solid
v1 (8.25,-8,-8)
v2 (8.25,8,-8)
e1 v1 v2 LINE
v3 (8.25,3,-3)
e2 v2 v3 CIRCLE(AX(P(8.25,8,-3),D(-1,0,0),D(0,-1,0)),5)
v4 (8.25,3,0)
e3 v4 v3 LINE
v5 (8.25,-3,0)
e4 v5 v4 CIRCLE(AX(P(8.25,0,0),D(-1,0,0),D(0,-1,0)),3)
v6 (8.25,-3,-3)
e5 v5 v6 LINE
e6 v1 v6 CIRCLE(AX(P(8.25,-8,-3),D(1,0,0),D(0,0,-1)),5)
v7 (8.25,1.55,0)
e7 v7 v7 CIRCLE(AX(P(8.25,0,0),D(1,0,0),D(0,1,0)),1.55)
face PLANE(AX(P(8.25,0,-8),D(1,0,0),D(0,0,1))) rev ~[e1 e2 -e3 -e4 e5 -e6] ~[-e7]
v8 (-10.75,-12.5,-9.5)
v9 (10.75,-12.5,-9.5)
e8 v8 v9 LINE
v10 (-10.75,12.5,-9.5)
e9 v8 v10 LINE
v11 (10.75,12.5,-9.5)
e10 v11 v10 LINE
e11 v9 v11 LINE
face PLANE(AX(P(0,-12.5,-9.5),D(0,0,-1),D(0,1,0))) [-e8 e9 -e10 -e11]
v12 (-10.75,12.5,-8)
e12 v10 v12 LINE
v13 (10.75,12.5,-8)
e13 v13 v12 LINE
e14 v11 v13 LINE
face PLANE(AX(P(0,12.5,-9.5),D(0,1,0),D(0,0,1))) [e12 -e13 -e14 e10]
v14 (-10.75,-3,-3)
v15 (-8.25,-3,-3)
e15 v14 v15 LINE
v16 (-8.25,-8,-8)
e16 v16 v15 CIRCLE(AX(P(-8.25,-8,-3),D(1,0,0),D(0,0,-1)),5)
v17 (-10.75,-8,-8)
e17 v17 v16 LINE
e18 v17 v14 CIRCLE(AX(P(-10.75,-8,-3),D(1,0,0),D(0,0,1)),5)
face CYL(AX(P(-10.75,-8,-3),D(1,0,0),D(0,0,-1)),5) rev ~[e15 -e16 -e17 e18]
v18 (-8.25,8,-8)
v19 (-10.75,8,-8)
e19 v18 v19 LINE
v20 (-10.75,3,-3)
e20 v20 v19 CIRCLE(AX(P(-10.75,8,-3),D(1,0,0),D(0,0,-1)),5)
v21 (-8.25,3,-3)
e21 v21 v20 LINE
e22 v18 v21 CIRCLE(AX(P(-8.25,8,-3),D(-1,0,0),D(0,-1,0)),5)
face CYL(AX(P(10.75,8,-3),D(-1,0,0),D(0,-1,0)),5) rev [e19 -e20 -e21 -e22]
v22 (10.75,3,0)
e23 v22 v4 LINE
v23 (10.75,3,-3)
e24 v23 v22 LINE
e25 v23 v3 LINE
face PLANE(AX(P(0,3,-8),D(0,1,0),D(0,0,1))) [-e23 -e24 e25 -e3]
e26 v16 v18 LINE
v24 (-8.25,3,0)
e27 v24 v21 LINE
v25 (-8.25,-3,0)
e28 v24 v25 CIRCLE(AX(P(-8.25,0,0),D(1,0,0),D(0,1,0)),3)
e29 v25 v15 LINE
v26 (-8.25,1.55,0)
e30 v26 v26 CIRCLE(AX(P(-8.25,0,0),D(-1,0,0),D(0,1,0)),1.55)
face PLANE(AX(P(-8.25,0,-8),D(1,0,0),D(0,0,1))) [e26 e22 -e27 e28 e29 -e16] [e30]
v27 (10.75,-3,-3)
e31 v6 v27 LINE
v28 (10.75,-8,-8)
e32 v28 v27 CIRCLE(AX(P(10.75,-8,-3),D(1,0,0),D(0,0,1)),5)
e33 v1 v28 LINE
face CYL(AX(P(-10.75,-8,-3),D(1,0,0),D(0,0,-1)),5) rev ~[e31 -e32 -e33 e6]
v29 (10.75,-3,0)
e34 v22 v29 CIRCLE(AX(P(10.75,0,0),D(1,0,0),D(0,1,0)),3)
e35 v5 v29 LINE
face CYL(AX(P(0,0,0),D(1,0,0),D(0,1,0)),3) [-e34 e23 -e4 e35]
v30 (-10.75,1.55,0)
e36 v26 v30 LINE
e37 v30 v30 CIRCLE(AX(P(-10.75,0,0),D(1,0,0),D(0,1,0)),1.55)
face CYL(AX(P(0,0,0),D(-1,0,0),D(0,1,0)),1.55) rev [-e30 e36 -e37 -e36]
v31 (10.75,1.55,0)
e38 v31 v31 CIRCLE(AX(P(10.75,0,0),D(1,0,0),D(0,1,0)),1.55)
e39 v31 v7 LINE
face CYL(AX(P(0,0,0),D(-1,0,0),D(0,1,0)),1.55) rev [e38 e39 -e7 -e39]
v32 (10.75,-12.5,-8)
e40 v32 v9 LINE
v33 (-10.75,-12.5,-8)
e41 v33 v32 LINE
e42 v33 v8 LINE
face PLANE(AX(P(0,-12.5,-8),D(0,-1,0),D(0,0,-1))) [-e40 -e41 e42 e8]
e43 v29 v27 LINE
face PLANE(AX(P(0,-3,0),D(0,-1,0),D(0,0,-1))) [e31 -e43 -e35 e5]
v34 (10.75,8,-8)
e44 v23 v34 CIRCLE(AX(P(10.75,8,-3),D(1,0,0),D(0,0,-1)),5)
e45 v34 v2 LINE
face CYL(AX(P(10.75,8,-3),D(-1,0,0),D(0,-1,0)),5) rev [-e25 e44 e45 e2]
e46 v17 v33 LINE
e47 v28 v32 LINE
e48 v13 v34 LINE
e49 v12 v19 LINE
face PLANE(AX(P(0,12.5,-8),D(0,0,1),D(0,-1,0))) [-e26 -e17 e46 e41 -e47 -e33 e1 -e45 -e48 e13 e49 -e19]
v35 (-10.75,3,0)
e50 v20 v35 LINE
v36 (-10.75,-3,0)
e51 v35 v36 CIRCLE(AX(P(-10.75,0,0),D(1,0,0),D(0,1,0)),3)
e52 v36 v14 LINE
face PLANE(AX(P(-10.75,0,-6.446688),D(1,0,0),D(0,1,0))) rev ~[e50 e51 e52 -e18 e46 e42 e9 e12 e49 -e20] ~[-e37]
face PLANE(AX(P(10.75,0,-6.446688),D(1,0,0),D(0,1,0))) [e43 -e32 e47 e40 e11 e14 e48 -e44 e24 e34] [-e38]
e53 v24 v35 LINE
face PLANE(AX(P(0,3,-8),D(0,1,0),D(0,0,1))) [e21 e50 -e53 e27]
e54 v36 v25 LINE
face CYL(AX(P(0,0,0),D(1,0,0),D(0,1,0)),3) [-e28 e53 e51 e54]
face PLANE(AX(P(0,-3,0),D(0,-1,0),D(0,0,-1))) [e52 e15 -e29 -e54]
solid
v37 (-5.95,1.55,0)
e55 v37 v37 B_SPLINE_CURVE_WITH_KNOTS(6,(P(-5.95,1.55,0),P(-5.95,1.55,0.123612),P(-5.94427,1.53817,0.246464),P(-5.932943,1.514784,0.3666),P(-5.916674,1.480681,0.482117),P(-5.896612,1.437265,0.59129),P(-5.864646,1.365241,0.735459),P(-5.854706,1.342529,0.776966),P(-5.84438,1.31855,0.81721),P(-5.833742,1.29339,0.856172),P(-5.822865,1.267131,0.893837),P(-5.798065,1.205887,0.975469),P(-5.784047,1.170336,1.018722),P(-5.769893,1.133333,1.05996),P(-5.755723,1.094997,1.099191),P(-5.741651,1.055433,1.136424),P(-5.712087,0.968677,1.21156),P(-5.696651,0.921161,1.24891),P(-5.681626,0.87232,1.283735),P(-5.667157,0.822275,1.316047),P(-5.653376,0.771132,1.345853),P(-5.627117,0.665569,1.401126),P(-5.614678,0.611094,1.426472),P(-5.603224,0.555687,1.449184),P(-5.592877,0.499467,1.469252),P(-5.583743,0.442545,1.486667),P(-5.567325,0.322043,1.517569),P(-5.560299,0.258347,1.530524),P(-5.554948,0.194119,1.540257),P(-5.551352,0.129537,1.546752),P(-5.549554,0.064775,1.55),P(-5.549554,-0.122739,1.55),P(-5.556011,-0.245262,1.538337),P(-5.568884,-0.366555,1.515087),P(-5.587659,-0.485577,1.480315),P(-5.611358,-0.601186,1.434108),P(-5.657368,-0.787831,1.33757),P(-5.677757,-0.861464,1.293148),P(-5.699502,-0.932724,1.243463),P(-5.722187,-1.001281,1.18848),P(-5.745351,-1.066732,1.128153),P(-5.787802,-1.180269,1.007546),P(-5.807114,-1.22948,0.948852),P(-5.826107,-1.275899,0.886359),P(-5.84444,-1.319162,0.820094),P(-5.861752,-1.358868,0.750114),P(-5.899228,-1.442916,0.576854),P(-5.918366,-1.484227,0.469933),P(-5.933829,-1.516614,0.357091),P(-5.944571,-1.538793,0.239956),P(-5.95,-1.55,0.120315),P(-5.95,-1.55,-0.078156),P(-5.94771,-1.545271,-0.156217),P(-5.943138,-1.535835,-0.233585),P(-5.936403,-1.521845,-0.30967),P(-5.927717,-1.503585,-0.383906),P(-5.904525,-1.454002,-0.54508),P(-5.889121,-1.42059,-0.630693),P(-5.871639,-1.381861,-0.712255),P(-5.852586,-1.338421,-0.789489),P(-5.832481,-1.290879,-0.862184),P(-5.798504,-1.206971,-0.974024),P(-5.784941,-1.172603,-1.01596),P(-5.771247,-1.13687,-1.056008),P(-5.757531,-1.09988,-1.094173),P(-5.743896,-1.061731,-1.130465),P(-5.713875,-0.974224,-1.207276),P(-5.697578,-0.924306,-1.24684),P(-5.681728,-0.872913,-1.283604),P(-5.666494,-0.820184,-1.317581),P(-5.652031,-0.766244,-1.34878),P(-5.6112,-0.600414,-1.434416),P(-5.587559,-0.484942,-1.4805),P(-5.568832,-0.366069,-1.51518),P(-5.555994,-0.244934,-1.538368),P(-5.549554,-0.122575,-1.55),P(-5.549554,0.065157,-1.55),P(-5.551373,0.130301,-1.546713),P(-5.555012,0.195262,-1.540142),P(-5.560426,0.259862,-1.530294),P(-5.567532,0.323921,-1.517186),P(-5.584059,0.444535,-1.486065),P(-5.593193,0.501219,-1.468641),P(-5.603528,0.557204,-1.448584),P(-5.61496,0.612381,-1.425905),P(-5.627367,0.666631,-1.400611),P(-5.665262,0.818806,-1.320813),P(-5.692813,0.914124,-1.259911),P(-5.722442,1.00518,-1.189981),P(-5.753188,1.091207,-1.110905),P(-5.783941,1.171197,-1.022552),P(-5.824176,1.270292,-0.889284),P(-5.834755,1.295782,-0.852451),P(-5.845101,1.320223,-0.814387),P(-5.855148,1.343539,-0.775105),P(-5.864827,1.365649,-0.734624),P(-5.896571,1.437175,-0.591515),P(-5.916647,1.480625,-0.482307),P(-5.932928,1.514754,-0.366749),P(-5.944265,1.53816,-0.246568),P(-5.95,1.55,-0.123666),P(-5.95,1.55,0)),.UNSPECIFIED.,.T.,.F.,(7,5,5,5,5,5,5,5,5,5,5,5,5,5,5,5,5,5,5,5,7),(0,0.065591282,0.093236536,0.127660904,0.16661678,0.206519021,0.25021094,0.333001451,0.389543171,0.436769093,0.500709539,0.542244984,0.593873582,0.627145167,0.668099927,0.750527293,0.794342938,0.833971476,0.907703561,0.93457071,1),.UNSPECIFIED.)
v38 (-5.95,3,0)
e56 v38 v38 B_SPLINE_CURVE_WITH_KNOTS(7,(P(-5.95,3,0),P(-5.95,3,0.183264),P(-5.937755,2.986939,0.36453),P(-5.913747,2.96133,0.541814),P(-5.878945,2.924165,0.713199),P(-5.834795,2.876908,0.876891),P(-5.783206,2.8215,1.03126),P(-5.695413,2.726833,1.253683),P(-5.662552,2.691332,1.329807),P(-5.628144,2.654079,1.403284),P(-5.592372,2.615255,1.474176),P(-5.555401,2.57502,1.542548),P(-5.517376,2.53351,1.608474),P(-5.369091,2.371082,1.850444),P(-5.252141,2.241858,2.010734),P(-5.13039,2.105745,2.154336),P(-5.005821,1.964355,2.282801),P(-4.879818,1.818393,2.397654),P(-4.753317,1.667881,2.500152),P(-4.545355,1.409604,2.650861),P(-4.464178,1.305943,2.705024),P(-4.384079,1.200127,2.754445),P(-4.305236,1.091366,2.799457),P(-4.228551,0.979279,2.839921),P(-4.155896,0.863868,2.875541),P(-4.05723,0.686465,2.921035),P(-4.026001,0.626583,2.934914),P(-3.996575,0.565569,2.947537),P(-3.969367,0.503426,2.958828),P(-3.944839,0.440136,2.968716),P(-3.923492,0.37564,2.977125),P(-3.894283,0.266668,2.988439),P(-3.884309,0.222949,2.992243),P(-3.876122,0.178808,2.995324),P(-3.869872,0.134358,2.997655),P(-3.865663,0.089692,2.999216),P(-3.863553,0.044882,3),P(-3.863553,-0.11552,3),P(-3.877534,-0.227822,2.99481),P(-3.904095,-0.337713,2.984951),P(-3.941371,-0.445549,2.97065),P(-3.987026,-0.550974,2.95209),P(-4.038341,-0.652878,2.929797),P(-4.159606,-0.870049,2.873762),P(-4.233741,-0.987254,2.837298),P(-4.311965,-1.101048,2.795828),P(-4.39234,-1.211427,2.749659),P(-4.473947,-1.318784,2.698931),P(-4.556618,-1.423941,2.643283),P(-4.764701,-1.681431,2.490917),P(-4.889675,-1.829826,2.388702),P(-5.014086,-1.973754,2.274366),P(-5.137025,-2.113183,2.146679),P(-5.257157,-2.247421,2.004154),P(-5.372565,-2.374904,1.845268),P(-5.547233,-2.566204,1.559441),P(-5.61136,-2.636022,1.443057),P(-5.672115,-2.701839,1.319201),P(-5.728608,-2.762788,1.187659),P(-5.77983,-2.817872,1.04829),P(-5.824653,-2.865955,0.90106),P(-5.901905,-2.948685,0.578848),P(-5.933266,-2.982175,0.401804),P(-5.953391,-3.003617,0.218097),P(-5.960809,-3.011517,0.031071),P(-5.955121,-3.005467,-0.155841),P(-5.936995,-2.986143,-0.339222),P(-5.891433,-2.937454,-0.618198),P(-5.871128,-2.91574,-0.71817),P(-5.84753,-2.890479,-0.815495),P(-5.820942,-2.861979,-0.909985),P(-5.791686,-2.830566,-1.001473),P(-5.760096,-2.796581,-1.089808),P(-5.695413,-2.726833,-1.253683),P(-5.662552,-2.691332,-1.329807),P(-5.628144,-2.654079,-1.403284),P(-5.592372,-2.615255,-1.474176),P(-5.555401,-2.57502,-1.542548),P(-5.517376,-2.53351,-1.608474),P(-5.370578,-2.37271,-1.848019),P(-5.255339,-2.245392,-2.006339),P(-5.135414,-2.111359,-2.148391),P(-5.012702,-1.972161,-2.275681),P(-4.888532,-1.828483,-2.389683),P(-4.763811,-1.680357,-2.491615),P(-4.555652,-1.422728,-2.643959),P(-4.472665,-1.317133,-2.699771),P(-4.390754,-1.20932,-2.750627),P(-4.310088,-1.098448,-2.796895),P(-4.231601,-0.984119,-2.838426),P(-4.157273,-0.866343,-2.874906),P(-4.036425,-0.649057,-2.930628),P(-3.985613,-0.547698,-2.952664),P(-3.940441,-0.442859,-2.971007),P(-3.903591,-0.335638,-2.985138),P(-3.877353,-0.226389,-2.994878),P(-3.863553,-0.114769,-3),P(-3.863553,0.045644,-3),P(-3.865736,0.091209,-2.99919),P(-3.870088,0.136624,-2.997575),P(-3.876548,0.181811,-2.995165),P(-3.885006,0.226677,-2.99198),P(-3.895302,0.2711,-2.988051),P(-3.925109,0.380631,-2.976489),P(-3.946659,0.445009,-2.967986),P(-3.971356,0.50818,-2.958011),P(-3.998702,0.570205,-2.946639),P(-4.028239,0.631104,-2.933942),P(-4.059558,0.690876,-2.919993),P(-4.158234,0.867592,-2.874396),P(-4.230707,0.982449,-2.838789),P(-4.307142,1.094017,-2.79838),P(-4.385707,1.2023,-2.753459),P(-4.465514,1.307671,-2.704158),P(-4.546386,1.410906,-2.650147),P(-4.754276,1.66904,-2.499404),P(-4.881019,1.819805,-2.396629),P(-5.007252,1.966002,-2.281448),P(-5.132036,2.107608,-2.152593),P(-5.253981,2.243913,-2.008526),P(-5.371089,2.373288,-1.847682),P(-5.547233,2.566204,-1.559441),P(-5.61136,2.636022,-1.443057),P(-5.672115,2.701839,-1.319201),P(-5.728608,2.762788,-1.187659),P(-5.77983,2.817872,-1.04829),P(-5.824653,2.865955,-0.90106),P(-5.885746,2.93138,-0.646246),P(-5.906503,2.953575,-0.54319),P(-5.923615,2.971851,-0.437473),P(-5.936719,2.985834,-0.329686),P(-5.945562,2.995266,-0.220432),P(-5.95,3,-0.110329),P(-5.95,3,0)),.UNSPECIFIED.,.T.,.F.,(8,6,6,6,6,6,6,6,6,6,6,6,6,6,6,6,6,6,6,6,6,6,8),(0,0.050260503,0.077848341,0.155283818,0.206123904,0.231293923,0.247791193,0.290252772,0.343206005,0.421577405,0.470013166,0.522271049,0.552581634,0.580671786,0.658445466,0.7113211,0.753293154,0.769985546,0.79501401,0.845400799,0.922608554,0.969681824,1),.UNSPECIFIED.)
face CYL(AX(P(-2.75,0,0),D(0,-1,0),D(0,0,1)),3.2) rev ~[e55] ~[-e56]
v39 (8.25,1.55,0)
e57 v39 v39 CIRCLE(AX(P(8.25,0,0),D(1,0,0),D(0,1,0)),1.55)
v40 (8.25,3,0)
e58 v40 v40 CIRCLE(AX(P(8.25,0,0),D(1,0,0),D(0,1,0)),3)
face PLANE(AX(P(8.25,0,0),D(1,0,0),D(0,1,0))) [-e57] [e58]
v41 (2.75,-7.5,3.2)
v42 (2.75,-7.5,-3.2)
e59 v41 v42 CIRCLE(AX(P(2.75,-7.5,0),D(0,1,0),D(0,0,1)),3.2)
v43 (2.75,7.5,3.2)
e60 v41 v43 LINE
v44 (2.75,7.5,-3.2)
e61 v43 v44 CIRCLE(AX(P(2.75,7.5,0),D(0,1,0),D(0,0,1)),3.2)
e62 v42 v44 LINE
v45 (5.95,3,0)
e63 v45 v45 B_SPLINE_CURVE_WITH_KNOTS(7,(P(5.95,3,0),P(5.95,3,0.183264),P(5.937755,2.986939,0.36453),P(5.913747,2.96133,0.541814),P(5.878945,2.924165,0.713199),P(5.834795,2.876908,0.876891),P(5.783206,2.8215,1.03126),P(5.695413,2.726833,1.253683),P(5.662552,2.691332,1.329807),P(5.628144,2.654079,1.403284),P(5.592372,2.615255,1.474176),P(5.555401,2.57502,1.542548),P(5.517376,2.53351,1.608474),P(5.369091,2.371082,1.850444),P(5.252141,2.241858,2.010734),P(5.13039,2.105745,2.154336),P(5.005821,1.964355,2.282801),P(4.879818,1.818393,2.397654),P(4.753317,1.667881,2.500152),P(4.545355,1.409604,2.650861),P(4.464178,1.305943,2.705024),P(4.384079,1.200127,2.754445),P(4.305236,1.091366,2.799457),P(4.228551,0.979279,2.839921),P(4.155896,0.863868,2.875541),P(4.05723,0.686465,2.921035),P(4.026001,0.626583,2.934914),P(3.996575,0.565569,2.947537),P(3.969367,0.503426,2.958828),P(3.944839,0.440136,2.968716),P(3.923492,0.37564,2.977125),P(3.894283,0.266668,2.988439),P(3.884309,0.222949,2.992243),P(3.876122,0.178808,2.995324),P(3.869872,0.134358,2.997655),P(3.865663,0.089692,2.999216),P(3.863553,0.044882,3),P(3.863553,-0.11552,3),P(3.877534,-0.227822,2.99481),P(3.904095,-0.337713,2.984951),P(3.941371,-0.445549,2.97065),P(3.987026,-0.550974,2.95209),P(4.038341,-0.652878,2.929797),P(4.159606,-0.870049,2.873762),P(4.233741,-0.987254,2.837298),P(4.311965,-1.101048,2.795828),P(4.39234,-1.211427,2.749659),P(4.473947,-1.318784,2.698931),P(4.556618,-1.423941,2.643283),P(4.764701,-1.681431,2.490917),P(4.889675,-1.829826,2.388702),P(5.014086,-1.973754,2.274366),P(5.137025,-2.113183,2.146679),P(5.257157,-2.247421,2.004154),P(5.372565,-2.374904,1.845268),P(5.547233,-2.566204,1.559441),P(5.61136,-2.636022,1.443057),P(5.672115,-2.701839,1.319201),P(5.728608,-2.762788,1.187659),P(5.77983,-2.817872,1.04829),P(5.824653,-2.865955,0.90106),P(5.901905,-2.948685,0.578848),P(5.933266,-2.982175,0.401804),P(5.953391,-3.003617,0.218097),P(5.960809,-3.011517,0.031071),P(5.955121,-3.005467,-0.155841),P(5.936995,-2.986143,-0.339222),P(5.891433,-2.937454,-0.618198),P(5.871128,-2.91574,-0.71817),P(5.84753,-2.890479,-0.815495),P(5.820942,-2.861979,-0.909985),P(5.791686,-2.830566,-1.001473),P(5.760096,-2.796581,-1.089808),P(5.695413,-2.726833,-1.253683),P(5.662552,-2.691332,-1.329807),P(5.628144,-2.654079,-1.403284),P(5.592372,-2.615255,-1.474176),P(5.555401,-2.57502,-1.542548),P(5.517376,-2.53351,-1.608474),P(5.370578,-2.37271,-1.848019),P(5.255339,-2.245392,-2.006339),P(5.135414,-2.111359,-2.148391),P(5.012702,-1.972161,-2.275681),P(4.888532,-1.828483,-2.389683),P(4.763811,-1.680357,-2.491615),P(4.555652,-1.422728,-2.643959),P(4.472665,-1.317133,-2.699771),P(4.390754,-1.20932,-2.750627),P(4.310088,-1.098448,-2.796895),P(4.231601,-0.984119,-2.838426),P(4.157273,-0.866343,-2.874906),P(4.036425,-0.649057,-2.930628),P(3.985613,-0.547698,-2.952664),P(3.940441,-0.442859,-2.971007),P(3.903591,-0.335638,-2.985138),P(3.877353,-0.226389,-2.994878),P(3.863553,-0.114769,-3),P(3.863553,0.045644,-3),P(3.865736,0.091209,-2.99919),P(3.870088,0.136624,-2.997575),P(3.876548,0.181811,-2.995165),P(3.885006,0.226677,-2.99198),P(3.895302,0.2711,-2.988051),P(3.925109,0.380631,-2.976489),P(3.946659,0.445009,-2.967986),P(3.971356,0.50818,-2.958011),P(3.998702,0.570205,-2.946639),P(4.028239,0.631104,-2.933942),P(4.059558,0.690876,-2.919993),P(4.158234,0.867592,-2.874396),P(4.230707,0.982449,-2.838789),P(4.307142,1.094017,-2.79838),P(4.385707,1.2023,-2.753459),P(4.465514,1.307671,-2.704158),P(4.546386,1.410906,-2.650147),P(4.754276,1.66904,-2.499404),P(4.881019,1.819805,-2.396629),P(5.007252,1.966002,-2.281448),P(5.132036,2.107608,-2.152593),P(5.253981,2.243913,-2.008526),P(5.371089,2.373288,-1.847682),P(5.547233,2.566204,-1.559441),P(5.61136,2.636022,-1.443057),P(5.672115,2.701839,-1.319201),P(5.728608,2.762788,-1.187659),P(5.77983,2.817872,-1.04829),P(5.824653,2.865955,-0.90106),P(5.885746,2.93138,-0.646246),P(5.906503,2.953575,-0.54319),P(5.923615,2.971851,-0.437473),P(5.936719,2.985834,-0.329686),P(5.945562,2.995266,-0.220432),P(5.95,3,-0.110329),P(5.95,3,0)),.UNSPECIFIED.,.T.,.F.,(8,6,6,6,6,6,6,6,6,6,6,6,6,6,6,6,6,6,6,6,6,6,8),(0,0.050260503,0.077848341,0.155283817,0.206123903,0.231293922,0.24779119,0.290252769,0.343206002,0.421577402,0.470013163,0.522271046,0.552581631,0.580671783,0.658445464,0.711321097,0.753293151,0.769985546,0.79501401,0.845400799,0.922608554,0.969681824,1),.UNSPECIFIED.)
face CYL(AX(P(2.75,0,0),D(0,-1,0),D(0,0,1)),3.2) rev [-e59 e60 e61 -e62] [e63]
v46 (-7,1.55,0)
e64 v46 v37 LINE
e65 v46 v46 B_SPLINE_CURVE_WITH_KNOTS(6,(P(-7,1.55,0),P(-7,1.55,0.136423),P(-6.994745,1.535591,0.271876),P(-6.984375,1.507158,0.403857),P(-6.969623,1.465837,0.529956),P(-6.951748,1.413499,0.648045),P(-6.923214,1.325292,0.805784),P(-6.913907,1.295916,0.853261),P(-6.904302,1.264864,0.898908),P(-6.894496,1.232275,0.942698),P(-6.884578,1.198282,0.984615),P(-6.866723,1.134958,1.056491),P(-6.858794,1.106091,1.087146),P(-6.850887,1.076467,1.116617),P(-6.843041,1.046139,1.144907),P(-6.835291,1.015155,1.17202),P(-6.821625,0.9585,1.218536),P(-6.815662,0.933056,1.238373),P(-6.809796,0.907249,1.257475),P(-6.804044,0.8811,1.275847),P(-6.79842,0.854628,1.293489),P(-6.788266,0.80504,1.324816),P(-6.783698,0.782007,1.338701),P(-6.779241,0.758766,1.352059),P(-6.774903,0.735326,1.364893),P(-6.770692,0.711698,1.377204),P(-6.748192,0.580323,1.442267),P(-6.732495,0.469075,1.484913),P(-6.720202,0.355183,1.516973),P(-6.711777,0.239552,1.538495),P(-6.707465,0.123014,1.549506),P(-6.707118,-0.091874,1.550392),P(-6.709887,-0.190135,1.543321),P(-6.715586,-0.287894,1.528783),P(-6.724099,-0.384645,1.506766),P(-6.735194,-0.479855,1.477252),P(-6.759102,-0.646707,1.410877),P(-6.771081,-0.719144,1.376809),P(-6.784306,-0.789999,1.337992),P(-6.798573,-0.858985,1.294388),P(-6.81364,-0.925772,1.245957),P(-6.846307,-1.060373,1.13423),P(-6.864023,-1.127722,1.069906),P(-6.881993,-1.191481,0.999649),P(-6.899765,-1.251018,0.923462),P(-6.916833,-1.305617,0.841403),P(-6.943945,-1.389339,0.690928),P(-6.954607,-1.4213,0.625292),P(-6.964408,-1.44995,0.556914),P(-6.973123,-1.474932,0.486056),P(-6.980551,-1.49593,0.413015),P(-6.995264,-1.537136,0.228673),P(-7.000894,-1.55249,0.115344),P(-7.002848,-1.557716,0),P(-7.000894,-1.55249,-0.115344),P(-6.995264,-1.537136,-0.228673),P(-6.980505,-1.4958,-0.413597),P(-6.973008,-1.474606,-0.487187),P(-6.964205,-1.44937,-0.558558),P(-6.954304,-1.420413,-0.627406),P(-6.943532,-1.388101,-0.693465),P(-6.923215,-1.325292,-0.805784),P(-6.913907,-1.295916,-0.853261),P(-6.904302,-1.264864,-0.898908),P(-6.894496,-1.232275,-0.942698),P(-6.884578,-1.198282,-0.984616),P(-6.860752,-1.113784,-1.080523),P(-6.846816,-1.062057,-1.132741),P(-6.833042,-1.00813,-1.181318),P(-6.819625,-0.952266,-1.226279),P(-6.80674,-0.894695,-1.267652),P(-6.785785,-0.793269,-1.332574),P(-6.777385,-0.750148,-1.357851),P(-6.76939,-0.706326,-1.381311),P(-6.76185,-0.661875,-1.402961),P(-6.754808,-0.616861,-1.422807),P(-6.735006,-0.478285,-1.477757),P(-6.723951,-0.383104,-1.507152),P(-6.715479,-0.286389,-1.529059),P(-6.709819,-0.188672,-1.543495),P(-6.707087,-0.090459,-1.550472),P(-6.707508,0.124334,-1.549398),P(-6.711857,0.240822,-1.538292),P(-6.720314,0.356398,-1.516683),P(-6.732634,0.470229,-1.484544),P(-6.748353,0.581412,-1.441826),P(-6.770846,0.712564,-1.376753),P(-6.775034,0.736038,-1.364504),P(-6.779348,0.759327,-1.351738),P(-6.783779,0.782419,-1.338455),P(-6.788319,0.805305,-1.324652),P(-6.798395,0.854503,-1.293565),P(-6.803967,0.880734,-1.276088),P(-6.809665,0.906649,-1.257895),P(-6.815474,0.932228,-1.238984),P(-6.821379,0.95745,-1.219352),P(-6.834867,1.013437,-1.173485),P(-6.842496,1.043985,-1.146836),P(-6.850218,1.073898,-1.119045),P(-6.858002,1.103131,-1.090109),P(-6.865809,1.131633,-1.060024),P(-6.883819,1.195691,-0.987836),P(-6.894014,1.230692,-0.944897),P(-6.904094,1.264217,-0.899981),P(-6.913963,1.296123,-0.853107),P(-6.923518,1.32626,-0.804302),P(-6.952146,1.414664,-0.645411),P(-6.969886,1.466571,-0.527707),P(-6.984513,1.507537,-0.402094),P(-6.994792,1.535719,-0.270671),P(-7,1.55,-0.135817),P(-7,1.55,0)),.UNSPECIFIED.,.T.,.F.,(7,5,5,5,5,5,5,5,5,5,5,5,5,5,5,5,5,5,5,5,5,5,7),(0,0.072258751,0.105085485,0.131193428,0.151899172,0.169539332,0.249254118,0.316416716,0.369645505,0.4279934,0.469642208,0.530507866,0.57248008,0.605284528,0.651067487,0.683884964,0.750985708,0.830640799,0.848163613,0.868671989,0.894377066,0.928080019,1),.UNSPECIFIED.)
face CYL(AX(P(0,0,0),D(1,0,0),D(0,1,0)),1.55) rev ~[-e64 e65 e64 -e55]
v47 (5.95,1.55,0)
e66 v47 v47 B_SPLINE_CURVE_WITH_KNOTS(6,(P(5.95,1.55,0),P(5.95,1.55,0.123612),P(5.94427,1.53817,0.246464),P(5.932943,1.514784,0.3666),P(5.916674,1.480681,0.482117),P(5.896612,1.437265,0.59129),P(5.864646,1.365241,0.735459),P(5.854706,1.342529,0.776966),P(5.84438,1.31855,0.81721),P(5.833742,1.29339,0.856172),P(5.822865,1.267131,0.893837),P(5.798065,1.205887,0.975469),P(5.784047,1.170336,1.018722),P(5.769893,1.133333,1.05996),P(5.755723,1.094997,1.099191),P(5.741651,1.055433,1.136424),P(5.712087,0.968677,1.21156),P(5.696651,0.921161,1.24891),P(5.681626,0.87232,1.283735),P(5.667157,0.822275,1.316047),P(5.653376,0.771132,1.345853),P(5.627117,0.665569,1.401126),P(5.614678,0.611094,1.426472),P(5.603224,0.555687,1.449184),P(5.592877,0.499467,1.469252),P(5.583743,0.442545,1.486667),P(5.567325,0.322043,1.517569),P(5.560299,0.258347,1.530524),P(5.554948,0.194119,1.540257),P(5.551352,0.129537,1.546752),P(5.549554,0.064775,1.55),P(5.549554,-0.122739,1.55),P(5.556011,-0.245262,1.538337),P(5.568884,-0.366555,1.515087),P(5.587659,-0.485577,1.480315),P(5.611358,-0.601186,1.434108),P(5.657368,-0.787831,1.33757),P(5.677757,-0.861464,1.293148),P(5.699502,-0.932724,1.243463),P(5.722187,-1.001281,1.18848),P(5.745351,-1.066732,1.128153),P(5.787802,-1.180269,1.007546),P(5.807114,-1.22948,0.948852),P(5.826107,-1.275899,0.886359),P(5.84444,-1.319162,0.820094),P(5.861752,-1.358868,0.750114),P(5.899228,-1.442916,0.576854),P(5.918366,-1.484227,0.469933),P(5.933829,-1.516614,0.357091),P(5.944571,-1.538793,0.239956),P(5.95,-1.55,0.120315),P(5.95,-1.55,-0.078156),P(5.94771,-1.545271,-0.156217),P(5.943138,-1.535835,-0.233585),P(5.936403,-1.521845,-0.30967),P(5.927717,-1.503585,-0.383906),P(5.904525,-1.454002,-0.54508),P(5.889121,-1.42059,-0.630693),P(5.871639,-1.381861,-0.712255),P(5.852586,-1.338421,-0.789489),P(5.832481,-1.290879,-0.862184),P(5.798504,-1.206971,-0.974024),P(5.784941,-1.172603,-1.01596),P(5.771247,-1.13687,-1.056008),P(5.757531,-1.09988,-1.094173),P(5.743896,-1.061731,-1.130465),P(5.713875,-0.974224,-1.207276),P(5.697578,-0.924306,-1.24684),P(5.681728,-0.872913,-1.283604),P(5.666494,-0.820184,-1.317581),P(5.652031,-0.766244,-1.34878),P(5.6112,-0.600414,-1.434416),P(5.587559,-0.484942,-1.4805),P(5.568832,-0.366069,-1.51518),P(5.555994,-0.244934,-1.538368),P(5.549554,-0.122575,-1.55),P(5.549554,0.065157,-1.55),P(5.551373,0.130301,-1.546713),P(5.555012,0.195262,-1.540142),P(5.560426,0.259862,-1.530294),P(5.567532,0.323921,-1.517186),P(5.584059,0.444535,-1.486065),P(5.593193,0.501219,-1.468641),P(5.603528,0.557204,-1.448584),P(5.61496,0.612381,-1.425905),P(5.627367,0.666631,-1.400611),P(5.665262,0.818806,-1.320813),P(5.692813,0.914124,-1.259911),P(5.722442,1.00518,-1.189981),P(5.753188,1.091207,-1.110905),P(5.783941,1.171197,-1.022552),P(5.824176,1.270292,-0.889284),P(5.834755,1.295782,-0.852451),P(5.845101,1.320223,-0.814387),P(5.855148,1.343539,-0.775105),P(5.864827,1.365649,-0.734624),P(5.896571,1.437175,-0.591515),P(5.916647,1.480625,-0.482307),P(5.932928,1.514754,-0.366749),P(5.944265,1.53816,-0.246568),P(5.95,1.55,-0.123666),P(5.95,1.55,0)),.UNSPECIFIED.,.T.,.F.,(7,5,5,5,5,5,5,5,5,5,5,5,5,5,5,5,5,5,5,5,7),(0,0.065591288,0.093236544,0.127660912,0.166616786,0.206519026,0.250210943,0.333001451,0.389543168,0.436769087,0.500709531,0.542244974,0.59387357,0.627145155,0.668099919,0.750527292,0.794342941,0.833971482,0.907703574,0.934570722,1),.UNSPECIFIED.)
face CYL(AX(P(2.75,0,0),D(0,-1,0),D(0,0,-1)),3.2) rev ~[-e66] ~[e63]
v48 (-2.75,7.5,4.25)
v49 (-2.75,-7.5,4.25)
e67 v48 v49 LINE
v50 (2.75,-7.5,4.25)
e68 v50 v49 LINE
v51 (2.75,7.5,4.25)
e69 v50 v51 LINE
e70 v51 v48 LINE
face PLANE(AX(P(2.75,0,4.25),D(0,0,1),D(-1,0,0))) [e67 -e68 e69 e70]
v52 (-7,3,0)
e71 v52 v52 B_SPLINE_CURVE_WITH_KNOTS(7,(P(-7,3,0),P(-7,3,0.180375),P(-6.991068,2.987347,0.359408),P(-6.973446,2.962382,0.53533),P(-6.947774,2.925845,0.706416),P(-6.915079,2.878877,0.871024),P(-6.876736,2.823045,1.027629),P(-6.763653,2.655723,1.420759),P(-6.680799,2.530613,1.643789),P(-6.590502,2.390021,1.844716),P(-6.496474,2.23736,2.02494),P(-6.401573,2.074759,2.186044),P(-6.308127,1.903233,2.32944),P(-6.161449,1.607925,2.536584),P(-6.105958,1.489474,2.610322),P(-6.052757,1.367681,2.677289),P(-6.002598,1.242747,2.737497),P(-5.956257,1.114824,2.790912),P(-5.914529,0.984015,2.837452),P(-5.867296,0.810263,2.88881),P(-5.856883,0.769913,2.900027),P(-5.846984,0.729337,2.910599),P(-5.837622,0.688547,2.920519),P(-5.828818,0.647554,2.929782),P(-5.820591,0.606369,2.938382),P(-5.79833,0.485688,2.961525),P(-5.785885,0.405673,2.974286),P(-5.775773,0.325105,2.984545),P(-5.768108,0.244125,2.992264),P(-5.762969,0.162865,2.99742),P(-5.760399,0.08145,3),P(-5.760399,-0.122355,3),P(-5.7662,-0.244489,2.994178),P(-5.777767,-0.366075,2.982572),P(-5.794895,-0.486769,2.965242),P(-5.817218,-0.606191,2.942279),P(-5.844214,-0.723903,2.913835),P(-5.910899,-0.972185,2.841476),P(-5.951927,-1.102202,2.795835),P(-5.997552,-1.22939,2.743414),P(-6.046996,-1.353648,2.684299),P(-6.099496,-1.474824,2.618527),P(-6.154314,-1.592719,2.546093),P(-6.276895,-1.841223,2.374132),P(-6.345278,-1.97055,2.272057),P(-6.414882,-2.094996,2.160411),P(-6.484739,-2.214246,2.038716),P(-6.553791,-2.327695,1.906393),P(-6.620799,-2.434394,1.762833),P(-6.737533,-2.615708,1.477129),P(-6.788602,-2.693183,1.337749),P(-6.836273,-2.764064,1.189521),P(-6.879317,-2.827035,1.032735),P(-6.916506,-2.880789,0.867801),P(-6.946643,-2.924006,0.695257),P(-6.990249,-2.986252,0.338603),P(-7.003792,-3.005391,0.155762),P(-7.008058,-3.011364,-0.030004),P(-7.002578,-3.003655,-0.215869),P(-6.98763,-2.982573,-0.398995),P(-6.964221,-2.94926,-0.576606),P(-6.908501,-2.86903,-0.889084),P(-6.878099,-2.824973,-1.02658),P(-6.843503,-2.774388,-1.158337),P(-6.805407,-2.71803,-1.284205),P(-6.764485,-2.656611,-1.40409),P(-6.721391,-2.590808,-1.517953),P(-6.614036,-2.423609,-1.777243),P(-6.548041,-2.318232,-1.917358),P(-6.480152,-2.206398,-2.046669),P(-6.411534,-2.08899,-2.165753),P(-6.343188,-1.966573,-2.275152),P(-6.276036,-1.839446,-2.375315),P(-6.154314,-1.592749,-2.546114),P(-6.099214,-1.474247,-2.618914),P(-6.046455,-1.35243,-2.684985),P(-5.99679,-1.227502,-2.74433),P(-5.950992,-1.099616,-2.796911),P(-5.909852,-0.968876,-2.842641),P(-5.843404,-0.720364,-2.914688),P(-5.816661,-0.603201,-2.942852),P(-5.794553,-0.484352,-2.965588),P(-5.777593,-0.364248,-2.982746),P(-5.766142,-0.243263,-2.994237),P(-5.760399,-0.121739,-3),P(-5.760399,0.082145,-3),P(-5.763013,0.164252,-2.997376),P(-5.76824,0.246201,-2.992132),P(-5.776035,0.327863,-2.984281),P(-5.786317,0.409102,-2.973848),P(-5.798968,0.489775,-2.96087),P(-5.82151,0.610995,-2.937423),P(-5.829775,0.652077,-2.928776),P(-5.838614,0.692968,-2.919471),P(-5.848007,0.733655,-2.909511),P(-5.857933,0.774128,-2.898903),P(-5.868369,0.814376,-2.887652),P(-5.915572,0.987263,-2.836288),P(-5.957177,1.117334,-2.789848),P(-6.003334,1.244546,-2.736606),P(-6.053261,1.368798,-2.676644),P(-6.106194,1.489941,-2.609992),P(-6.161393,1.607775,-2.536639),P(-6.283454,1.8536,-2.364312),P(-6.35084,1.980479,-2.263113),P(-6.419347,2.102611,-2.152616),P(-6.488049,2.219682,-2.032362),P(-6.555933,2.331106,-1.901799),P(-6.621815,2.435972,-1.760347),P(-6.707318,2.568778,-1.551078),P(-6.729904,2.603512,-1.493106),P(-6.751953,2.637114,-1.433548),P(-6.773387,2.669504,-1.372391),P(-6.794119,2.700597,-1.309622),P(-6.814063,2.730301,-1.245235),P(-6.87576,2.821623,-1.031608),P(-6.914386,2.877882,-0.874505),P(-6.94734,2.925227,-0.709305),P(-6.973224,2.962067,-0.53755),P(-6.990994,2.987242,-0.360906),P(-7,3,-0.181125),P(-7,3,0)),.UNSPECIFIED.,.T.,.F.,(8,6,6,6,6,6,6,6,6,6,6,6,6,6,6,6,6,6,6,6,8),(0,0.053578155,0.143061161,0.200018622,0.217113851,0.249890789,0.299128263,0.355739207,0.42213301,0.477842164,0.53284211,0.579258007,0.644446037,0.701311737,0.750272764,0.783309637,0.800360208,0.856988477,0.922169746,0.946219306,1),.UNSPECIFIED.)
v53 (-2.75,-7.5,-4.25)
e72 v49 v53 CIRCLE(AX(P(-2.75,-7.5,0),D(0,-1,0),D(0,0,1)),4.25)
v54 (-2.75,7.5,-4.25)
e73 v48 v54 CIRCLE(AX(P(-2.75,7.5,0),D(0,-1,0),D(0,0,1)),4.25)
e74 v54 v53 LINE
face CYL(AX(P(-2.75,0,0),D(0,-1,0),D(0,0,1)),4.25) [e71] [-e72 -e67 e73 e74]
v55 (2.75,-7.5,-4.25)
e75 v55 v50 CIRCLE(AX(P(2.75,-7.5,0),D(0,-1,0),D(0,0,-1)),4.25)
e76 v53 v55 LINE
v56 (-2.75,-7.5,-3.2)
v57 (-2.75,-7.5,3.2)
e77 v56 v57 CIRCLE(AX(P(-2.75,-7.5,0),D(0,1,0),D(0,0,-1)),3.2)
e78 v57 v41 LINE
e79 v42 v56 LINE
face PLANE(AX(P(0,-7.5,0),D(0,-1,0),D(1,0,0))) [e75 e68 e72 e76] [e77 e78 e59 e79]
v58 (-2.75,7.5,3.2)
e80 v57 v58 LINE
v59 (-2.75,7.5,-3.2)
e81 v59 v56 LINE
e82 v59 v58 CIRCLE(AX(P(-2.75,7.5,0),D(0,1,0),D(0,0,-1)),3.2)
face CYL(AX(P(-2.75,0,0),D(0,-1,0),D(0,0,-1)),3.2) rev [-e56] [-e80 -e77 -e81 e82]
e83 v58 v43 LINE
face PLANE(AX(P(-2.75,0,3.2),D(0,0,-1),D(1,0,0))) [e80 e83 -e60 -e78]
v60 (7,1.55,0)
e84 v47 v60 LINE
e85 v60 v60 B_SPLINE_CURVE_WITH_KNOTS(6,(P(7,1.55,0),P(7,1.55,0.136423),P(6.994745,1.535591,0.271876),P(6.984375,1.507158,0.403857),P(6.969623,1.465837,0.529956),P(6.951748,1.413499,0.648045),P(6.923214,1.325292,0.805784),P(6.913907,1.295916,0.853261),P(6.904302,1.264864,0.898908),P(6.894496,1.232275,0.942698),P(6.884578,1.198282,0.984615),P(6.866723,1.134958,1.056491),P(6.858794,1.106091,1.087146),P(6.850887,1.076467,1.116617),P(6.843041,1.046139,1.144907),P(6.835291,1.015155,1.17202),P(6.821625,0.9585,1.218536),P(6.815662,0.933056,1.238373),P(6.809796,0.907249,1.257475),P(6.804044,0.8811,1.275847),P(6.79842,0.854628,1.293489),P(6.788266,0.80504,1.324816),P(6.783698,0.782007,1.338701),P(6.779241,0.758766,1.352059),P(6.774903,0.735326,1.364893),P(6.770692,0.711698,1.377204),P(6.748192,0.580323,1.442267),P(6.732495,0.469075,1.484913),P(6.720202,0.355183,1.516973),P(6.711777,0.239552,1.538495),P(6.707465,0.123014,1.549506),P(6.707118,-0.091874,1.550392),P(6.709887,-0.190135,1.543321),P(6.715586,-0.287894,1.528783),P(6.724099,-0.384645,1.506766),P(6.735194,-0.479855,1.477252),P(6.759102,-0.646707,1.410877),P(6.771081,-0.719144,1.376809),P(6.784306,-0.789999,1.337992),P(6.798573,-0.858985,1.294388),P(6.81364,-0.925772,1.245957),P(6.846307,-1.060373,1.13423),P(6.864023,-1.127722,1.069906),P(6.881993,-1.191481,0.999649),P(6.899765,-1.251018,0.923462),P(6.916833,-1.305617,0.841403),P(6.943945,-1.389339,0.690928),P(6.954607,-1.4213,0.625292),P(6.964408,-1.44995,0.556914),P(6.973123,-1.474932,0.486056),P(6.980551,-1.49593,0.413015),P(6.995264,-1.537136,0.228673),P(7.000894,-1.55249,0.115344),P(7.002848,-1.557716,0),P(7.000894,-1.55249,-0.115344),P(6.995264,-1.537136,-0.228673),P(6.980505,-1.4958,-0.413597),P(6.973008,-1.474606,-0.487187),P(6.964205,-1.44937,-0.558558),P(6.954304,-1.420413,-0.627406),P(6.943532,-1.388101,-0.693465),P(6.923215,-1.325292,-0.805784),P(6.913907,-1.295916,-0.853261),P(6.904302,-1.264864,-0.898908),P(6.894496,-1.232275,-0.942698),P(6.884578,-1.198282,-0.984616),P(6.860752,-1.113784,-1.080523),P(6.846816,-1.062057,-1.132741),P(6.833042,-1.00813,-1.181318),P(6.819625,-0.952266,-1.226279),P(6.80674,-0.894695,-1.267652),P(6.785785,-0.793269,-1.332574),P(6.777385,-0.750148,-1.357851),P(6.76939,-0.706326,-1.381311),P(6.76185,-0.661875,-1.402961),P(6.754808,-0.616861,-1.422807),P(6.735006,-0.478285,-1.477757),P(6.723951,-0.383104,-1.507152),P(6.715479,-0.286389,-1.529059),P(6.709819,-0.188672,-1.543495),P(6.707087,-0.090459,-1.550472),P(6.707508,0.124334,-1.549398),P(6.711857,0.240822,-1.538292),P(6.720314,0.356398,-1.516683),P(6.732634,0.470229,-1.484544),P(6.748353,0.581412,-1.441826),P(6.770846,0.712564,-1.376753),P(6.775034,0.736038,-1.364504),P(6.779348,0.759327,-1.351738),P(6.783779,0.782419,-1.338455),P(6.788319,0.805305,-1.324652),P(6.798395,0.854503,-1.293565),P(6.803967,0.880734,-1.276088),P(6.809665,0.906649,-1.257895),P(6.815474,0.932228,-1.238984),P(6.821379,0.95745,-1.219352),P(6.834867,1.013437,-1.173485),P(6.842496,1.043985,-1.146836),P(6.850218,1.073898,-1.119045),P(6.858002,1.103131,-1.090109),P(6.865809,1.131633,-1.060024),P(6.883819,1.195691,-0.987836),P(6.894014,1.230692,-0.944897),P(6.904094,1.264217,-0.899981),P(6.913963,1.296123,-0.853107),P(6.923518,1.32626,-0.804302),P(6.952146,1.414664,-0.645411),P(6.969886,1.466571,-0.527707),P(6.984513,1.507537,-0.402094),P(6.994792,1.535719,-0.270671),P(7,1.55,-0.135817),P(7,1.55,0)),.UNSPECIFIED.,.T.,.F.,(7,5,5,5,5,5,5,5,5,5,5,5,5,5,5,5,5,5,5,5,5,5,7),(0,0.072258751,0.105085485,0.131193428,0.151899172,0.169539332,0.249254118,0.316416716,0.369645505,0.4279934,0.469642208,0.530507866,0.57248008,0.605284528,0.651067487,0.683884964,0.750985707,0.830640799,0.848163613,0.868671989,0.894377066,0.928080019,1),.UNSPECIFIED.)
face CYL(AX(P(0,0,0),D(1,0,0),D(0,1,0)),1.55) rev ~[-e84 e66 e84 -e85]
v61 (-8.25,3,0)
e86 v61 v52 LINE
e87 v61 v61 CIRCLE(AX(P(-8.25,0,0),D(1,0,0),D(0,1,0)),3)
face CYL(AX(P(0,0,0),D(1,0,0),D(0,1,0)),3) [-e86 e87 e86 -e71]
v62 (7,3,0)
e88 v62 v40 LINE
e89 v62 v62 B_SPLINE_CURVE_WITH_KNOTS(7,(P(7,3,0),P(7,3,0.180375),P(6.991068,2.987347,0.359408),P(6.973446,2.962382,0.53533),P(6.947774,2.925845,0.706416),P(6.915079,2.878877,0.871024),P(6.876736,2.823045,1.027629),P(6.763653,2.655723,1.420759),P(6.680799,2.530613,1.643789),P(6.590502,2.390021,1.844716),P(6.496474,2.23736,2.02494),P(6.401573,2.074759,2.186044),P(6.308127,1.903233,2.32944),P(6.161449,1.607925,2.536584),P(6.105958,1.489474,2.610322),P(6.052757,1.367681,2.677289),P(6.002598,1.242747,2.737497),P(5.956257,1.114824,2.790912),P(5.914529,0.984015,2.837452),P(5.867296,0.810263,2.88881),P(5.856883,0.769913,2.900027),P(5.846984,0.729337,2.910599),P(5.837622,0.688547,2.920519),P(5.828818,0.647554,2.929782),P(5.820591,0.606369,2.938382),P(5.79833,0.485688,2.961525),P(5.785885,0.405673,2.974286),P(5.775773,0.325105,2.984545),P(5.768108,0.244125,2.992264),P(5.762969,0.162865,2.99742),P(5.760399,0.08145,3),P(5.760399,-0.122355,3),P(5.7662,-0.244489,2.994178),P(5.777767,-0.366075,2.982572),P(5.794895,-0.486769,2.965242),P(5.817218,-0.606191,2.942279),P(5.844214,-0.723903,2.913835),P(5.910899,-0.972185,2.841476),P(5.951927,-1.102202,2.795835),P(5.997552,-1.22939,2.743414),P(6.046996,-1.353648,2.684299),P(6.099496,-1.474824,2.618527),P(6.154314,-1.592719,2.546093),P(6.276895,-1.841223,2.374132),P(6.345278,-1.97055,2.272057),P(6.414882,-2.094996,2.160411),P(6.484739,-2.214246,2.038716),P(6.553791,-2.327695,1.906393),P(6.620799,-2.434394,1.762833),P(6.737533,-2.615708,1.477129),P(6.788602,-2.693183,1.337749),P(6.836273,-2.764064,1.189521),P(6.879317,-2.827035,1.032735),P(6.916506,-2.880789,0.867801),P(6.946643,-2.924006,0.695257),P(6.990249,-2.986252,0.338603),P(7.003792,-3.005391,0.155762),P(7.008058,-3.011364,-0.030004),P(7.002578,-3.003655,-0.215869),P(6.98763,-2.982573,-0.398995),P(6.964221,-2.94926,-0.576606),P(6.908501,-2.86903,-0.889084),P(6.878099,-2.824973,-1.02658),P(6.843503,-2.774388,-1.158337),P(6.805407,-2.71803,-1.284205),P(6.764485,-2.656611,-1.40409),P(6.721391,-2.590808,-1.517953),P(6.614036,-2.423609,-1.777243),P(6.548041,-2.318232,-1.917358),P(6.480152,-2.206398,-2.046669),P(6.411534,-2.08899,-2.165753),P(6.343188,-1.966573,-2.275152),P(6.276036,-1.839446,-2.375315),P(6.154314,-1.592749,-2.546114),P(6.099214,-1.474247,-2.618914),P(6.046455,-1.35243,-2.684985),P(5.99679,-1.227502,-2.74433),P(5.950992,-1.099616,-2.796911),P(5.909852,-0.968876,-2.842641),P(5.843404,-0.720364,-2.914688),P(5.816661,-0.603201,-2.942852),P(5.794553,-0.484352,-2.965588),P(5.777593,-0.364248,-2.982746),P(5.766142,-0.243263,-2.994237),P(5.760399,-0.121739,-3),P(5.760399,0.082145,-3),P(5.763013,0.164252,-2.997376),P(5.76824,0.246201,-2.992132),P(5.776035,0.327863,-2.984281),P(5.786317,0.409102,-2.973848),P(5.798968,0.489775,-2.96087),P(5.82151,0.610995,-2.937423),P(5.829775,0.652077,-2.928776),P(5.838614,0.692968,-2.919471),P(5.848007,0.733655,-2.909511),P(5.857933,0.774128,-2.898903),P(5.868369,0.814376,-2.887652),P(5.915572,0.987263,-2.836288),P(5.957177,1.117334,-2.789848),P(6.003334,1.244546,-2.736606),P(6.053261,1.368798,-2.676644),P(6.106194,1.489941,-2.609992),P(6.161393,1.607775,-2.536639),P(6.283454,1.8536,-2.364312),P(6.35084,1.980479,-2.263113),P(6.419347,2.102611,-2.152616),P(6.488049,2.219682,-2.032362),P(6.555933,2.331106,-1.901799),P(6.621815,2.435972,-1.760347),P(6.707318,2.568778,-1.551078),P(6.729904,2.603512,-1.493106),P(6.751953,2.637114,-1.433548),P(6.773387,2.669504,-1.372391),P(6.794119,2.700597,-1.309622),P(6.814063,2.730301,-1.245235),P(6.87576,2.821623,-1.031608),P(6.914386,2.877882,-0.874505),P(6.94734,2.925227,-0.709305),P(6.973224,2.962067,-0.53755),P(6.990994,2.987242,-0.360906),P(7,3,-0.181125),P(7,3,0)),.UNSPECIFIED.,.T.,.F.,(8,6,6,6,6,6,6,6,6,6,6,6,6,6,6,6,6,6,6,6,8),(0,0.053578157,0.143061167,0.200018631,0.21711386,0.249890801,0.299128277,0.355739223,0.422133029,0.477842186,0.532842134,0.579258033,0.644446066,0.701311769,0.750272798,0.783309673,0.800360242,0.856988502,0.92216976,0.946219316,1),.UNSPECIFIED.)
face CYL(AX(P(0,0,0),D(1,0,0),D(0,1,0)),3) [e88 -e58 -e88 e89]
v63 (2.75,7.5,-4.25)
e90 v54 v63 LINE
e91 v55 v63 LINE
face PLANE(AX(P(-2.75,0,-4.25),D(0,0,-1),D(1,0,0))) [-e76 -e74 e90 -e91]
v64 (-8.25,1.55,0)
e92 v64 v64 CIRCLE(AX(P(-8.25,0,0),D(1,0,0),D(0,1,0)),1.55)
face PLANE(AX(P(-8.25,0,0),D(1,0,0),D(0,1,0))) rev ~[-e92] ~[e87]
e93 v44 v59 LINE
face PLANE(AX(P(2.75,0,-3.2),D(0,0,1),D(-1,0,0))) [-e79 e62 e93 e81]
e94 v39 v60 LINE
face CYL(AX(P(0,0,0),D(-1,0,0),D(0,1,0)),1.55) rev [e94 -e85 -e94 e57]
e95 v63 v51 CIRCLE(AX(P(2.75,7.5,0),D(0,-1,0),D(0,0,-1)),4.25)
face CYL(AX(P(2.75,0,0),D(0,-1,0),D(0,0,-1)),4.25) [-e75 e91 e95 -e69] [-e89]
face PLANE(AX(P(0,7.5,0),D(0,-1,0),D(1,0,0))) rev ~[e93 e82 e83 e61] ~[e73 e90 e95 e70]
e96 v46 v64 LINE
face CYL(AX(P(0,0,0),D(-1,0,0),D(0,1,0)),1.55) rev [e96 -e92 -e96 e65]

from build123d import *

# Parameters (mm, degrees)
F2_DEPTH       = 7.5
F1_R           = 3
F1_R_2         = 1.55
F3_DEPTH       = 8.25
F4_DEPTH       = 8.25
F5_DEPTH       = 7.5
F6_R           = 1.55
F7_DEPTH       = 10.75
F8_R           = 5
F9_W           = 16.5
F9_H           = 16
F10_DEPTH      = 12.501
F10_DEPTH_BACK = 12.501


with BuildPart() as f2:
    # F0 (on Front) → F2 (new body, symmetric)
    with BuildSketch(Plane.XZ):
        with BuildLine():
            Line((2.75, 4.25), (-2.75, 4.25))
            ThreePointArc((-2.75, 4.25), (-7, 0), (-2.75, -4.25))
            Line((-2.75, -4.25), (2.75, -4.25))
            ThreePointArc((2.75, -4.25), (7, 0), (2.75, 4.25))
        make_face()
        with BuildLine():
            ThreePointArc((-2.75, -3.2), (-5.95, 0), (-2.75, 3.2))
            Line((-2.75, 3.2), (2.75, 3.2))
            ThreePointArc((2.75, 3.2), (5.95, 0), (2.75, -3.2))
            Line((2.75, -3.2), (-2.75, -3.2))
        make_face(mode=Mode.SUBTRACT)
    extrude(amount=F2_DEPTH, both=True)

    # F1 (on Right) → F3 (join, symmetric)
    with BuildSketch(Plane.YZ):
        Circle(F1_R)
        Circle(F1_R_2, mode=Mode.SUBTRACT)
    extrude(amount=F3_DEPTH, both=True)

    # F1 (on Right) → F4 (cut, symmetric)
    with BuildSketch(Plane.YZ):
        Circle(F1_R_2)
    extrude(amount=F4_DEPTH, both=True, mode=Mode.SUBTRACT)

    # F0 (on Front) → F5 (cut, symmetric)
    with BuildSketch(Plane.XZ):
        with BuildLine():
            Line((2.75, 3.2), (-2.75, 3.2))
            ThreePointArc((-2.75, 3.2), (-5.95, 0), (-2.75, -3.2))
            Line((-2.75, -3.2), (2.75, -3.2))
            ThreePointArc((2.75, -3.2), (5.95, 0), (2.75, 3.2))
        make_face()
    extrude(amount=F5_DEPTH, both=True, mode=Mode.SUBTRACT)


with BuildPart() as f7:
    # F6 (on Right) → F7 (new body, symmetric)
    with BuildSketch(Plane.YZ):
        with BuildLine():
            ThreePointArc((3, 0), (0, 3), (-3, 0))
            Line((-3, 0), (-3, -8))
            Line((-3, -8), (-12.5, -8))
            Line((-12.5, -8), (-12.5, -9.5))
            Line((-12.5, -9.5), (12.5, -9.5))
            Line((12.5, -9.5), (12.5, -8))
            Line((12.5, -8), (3, -8))
            Line((3, -8), (3, 0))
        make_face()
        Circle(F6_R, mode=Mode.SUBTRACT)
    extrude(amount=F7_DEPTH, both=True)

    # F8
    f8_edges = [f7.edges().sort_by_distance(p)[0] for p in [
        (0, 3, -8),
        (0, -3, -8),
    ]]
    fillet(f8_edges, radius=F8_R)

    # F9 (on Front) → F10 (cut, two sides)
    with BuildSketch(Plane.XZ) as f10_sk:
        Rectangle(F9_W, F9_H)
    extrude(amount=F10_DEPTH, mode=Mode.SUBTRACT)
    extrude(f10_sk.sketch, amount=-F10_DEPTH_BACK, mode=Mode.SUBTRACT)


solid = Compound([f2.part, f7.part])
